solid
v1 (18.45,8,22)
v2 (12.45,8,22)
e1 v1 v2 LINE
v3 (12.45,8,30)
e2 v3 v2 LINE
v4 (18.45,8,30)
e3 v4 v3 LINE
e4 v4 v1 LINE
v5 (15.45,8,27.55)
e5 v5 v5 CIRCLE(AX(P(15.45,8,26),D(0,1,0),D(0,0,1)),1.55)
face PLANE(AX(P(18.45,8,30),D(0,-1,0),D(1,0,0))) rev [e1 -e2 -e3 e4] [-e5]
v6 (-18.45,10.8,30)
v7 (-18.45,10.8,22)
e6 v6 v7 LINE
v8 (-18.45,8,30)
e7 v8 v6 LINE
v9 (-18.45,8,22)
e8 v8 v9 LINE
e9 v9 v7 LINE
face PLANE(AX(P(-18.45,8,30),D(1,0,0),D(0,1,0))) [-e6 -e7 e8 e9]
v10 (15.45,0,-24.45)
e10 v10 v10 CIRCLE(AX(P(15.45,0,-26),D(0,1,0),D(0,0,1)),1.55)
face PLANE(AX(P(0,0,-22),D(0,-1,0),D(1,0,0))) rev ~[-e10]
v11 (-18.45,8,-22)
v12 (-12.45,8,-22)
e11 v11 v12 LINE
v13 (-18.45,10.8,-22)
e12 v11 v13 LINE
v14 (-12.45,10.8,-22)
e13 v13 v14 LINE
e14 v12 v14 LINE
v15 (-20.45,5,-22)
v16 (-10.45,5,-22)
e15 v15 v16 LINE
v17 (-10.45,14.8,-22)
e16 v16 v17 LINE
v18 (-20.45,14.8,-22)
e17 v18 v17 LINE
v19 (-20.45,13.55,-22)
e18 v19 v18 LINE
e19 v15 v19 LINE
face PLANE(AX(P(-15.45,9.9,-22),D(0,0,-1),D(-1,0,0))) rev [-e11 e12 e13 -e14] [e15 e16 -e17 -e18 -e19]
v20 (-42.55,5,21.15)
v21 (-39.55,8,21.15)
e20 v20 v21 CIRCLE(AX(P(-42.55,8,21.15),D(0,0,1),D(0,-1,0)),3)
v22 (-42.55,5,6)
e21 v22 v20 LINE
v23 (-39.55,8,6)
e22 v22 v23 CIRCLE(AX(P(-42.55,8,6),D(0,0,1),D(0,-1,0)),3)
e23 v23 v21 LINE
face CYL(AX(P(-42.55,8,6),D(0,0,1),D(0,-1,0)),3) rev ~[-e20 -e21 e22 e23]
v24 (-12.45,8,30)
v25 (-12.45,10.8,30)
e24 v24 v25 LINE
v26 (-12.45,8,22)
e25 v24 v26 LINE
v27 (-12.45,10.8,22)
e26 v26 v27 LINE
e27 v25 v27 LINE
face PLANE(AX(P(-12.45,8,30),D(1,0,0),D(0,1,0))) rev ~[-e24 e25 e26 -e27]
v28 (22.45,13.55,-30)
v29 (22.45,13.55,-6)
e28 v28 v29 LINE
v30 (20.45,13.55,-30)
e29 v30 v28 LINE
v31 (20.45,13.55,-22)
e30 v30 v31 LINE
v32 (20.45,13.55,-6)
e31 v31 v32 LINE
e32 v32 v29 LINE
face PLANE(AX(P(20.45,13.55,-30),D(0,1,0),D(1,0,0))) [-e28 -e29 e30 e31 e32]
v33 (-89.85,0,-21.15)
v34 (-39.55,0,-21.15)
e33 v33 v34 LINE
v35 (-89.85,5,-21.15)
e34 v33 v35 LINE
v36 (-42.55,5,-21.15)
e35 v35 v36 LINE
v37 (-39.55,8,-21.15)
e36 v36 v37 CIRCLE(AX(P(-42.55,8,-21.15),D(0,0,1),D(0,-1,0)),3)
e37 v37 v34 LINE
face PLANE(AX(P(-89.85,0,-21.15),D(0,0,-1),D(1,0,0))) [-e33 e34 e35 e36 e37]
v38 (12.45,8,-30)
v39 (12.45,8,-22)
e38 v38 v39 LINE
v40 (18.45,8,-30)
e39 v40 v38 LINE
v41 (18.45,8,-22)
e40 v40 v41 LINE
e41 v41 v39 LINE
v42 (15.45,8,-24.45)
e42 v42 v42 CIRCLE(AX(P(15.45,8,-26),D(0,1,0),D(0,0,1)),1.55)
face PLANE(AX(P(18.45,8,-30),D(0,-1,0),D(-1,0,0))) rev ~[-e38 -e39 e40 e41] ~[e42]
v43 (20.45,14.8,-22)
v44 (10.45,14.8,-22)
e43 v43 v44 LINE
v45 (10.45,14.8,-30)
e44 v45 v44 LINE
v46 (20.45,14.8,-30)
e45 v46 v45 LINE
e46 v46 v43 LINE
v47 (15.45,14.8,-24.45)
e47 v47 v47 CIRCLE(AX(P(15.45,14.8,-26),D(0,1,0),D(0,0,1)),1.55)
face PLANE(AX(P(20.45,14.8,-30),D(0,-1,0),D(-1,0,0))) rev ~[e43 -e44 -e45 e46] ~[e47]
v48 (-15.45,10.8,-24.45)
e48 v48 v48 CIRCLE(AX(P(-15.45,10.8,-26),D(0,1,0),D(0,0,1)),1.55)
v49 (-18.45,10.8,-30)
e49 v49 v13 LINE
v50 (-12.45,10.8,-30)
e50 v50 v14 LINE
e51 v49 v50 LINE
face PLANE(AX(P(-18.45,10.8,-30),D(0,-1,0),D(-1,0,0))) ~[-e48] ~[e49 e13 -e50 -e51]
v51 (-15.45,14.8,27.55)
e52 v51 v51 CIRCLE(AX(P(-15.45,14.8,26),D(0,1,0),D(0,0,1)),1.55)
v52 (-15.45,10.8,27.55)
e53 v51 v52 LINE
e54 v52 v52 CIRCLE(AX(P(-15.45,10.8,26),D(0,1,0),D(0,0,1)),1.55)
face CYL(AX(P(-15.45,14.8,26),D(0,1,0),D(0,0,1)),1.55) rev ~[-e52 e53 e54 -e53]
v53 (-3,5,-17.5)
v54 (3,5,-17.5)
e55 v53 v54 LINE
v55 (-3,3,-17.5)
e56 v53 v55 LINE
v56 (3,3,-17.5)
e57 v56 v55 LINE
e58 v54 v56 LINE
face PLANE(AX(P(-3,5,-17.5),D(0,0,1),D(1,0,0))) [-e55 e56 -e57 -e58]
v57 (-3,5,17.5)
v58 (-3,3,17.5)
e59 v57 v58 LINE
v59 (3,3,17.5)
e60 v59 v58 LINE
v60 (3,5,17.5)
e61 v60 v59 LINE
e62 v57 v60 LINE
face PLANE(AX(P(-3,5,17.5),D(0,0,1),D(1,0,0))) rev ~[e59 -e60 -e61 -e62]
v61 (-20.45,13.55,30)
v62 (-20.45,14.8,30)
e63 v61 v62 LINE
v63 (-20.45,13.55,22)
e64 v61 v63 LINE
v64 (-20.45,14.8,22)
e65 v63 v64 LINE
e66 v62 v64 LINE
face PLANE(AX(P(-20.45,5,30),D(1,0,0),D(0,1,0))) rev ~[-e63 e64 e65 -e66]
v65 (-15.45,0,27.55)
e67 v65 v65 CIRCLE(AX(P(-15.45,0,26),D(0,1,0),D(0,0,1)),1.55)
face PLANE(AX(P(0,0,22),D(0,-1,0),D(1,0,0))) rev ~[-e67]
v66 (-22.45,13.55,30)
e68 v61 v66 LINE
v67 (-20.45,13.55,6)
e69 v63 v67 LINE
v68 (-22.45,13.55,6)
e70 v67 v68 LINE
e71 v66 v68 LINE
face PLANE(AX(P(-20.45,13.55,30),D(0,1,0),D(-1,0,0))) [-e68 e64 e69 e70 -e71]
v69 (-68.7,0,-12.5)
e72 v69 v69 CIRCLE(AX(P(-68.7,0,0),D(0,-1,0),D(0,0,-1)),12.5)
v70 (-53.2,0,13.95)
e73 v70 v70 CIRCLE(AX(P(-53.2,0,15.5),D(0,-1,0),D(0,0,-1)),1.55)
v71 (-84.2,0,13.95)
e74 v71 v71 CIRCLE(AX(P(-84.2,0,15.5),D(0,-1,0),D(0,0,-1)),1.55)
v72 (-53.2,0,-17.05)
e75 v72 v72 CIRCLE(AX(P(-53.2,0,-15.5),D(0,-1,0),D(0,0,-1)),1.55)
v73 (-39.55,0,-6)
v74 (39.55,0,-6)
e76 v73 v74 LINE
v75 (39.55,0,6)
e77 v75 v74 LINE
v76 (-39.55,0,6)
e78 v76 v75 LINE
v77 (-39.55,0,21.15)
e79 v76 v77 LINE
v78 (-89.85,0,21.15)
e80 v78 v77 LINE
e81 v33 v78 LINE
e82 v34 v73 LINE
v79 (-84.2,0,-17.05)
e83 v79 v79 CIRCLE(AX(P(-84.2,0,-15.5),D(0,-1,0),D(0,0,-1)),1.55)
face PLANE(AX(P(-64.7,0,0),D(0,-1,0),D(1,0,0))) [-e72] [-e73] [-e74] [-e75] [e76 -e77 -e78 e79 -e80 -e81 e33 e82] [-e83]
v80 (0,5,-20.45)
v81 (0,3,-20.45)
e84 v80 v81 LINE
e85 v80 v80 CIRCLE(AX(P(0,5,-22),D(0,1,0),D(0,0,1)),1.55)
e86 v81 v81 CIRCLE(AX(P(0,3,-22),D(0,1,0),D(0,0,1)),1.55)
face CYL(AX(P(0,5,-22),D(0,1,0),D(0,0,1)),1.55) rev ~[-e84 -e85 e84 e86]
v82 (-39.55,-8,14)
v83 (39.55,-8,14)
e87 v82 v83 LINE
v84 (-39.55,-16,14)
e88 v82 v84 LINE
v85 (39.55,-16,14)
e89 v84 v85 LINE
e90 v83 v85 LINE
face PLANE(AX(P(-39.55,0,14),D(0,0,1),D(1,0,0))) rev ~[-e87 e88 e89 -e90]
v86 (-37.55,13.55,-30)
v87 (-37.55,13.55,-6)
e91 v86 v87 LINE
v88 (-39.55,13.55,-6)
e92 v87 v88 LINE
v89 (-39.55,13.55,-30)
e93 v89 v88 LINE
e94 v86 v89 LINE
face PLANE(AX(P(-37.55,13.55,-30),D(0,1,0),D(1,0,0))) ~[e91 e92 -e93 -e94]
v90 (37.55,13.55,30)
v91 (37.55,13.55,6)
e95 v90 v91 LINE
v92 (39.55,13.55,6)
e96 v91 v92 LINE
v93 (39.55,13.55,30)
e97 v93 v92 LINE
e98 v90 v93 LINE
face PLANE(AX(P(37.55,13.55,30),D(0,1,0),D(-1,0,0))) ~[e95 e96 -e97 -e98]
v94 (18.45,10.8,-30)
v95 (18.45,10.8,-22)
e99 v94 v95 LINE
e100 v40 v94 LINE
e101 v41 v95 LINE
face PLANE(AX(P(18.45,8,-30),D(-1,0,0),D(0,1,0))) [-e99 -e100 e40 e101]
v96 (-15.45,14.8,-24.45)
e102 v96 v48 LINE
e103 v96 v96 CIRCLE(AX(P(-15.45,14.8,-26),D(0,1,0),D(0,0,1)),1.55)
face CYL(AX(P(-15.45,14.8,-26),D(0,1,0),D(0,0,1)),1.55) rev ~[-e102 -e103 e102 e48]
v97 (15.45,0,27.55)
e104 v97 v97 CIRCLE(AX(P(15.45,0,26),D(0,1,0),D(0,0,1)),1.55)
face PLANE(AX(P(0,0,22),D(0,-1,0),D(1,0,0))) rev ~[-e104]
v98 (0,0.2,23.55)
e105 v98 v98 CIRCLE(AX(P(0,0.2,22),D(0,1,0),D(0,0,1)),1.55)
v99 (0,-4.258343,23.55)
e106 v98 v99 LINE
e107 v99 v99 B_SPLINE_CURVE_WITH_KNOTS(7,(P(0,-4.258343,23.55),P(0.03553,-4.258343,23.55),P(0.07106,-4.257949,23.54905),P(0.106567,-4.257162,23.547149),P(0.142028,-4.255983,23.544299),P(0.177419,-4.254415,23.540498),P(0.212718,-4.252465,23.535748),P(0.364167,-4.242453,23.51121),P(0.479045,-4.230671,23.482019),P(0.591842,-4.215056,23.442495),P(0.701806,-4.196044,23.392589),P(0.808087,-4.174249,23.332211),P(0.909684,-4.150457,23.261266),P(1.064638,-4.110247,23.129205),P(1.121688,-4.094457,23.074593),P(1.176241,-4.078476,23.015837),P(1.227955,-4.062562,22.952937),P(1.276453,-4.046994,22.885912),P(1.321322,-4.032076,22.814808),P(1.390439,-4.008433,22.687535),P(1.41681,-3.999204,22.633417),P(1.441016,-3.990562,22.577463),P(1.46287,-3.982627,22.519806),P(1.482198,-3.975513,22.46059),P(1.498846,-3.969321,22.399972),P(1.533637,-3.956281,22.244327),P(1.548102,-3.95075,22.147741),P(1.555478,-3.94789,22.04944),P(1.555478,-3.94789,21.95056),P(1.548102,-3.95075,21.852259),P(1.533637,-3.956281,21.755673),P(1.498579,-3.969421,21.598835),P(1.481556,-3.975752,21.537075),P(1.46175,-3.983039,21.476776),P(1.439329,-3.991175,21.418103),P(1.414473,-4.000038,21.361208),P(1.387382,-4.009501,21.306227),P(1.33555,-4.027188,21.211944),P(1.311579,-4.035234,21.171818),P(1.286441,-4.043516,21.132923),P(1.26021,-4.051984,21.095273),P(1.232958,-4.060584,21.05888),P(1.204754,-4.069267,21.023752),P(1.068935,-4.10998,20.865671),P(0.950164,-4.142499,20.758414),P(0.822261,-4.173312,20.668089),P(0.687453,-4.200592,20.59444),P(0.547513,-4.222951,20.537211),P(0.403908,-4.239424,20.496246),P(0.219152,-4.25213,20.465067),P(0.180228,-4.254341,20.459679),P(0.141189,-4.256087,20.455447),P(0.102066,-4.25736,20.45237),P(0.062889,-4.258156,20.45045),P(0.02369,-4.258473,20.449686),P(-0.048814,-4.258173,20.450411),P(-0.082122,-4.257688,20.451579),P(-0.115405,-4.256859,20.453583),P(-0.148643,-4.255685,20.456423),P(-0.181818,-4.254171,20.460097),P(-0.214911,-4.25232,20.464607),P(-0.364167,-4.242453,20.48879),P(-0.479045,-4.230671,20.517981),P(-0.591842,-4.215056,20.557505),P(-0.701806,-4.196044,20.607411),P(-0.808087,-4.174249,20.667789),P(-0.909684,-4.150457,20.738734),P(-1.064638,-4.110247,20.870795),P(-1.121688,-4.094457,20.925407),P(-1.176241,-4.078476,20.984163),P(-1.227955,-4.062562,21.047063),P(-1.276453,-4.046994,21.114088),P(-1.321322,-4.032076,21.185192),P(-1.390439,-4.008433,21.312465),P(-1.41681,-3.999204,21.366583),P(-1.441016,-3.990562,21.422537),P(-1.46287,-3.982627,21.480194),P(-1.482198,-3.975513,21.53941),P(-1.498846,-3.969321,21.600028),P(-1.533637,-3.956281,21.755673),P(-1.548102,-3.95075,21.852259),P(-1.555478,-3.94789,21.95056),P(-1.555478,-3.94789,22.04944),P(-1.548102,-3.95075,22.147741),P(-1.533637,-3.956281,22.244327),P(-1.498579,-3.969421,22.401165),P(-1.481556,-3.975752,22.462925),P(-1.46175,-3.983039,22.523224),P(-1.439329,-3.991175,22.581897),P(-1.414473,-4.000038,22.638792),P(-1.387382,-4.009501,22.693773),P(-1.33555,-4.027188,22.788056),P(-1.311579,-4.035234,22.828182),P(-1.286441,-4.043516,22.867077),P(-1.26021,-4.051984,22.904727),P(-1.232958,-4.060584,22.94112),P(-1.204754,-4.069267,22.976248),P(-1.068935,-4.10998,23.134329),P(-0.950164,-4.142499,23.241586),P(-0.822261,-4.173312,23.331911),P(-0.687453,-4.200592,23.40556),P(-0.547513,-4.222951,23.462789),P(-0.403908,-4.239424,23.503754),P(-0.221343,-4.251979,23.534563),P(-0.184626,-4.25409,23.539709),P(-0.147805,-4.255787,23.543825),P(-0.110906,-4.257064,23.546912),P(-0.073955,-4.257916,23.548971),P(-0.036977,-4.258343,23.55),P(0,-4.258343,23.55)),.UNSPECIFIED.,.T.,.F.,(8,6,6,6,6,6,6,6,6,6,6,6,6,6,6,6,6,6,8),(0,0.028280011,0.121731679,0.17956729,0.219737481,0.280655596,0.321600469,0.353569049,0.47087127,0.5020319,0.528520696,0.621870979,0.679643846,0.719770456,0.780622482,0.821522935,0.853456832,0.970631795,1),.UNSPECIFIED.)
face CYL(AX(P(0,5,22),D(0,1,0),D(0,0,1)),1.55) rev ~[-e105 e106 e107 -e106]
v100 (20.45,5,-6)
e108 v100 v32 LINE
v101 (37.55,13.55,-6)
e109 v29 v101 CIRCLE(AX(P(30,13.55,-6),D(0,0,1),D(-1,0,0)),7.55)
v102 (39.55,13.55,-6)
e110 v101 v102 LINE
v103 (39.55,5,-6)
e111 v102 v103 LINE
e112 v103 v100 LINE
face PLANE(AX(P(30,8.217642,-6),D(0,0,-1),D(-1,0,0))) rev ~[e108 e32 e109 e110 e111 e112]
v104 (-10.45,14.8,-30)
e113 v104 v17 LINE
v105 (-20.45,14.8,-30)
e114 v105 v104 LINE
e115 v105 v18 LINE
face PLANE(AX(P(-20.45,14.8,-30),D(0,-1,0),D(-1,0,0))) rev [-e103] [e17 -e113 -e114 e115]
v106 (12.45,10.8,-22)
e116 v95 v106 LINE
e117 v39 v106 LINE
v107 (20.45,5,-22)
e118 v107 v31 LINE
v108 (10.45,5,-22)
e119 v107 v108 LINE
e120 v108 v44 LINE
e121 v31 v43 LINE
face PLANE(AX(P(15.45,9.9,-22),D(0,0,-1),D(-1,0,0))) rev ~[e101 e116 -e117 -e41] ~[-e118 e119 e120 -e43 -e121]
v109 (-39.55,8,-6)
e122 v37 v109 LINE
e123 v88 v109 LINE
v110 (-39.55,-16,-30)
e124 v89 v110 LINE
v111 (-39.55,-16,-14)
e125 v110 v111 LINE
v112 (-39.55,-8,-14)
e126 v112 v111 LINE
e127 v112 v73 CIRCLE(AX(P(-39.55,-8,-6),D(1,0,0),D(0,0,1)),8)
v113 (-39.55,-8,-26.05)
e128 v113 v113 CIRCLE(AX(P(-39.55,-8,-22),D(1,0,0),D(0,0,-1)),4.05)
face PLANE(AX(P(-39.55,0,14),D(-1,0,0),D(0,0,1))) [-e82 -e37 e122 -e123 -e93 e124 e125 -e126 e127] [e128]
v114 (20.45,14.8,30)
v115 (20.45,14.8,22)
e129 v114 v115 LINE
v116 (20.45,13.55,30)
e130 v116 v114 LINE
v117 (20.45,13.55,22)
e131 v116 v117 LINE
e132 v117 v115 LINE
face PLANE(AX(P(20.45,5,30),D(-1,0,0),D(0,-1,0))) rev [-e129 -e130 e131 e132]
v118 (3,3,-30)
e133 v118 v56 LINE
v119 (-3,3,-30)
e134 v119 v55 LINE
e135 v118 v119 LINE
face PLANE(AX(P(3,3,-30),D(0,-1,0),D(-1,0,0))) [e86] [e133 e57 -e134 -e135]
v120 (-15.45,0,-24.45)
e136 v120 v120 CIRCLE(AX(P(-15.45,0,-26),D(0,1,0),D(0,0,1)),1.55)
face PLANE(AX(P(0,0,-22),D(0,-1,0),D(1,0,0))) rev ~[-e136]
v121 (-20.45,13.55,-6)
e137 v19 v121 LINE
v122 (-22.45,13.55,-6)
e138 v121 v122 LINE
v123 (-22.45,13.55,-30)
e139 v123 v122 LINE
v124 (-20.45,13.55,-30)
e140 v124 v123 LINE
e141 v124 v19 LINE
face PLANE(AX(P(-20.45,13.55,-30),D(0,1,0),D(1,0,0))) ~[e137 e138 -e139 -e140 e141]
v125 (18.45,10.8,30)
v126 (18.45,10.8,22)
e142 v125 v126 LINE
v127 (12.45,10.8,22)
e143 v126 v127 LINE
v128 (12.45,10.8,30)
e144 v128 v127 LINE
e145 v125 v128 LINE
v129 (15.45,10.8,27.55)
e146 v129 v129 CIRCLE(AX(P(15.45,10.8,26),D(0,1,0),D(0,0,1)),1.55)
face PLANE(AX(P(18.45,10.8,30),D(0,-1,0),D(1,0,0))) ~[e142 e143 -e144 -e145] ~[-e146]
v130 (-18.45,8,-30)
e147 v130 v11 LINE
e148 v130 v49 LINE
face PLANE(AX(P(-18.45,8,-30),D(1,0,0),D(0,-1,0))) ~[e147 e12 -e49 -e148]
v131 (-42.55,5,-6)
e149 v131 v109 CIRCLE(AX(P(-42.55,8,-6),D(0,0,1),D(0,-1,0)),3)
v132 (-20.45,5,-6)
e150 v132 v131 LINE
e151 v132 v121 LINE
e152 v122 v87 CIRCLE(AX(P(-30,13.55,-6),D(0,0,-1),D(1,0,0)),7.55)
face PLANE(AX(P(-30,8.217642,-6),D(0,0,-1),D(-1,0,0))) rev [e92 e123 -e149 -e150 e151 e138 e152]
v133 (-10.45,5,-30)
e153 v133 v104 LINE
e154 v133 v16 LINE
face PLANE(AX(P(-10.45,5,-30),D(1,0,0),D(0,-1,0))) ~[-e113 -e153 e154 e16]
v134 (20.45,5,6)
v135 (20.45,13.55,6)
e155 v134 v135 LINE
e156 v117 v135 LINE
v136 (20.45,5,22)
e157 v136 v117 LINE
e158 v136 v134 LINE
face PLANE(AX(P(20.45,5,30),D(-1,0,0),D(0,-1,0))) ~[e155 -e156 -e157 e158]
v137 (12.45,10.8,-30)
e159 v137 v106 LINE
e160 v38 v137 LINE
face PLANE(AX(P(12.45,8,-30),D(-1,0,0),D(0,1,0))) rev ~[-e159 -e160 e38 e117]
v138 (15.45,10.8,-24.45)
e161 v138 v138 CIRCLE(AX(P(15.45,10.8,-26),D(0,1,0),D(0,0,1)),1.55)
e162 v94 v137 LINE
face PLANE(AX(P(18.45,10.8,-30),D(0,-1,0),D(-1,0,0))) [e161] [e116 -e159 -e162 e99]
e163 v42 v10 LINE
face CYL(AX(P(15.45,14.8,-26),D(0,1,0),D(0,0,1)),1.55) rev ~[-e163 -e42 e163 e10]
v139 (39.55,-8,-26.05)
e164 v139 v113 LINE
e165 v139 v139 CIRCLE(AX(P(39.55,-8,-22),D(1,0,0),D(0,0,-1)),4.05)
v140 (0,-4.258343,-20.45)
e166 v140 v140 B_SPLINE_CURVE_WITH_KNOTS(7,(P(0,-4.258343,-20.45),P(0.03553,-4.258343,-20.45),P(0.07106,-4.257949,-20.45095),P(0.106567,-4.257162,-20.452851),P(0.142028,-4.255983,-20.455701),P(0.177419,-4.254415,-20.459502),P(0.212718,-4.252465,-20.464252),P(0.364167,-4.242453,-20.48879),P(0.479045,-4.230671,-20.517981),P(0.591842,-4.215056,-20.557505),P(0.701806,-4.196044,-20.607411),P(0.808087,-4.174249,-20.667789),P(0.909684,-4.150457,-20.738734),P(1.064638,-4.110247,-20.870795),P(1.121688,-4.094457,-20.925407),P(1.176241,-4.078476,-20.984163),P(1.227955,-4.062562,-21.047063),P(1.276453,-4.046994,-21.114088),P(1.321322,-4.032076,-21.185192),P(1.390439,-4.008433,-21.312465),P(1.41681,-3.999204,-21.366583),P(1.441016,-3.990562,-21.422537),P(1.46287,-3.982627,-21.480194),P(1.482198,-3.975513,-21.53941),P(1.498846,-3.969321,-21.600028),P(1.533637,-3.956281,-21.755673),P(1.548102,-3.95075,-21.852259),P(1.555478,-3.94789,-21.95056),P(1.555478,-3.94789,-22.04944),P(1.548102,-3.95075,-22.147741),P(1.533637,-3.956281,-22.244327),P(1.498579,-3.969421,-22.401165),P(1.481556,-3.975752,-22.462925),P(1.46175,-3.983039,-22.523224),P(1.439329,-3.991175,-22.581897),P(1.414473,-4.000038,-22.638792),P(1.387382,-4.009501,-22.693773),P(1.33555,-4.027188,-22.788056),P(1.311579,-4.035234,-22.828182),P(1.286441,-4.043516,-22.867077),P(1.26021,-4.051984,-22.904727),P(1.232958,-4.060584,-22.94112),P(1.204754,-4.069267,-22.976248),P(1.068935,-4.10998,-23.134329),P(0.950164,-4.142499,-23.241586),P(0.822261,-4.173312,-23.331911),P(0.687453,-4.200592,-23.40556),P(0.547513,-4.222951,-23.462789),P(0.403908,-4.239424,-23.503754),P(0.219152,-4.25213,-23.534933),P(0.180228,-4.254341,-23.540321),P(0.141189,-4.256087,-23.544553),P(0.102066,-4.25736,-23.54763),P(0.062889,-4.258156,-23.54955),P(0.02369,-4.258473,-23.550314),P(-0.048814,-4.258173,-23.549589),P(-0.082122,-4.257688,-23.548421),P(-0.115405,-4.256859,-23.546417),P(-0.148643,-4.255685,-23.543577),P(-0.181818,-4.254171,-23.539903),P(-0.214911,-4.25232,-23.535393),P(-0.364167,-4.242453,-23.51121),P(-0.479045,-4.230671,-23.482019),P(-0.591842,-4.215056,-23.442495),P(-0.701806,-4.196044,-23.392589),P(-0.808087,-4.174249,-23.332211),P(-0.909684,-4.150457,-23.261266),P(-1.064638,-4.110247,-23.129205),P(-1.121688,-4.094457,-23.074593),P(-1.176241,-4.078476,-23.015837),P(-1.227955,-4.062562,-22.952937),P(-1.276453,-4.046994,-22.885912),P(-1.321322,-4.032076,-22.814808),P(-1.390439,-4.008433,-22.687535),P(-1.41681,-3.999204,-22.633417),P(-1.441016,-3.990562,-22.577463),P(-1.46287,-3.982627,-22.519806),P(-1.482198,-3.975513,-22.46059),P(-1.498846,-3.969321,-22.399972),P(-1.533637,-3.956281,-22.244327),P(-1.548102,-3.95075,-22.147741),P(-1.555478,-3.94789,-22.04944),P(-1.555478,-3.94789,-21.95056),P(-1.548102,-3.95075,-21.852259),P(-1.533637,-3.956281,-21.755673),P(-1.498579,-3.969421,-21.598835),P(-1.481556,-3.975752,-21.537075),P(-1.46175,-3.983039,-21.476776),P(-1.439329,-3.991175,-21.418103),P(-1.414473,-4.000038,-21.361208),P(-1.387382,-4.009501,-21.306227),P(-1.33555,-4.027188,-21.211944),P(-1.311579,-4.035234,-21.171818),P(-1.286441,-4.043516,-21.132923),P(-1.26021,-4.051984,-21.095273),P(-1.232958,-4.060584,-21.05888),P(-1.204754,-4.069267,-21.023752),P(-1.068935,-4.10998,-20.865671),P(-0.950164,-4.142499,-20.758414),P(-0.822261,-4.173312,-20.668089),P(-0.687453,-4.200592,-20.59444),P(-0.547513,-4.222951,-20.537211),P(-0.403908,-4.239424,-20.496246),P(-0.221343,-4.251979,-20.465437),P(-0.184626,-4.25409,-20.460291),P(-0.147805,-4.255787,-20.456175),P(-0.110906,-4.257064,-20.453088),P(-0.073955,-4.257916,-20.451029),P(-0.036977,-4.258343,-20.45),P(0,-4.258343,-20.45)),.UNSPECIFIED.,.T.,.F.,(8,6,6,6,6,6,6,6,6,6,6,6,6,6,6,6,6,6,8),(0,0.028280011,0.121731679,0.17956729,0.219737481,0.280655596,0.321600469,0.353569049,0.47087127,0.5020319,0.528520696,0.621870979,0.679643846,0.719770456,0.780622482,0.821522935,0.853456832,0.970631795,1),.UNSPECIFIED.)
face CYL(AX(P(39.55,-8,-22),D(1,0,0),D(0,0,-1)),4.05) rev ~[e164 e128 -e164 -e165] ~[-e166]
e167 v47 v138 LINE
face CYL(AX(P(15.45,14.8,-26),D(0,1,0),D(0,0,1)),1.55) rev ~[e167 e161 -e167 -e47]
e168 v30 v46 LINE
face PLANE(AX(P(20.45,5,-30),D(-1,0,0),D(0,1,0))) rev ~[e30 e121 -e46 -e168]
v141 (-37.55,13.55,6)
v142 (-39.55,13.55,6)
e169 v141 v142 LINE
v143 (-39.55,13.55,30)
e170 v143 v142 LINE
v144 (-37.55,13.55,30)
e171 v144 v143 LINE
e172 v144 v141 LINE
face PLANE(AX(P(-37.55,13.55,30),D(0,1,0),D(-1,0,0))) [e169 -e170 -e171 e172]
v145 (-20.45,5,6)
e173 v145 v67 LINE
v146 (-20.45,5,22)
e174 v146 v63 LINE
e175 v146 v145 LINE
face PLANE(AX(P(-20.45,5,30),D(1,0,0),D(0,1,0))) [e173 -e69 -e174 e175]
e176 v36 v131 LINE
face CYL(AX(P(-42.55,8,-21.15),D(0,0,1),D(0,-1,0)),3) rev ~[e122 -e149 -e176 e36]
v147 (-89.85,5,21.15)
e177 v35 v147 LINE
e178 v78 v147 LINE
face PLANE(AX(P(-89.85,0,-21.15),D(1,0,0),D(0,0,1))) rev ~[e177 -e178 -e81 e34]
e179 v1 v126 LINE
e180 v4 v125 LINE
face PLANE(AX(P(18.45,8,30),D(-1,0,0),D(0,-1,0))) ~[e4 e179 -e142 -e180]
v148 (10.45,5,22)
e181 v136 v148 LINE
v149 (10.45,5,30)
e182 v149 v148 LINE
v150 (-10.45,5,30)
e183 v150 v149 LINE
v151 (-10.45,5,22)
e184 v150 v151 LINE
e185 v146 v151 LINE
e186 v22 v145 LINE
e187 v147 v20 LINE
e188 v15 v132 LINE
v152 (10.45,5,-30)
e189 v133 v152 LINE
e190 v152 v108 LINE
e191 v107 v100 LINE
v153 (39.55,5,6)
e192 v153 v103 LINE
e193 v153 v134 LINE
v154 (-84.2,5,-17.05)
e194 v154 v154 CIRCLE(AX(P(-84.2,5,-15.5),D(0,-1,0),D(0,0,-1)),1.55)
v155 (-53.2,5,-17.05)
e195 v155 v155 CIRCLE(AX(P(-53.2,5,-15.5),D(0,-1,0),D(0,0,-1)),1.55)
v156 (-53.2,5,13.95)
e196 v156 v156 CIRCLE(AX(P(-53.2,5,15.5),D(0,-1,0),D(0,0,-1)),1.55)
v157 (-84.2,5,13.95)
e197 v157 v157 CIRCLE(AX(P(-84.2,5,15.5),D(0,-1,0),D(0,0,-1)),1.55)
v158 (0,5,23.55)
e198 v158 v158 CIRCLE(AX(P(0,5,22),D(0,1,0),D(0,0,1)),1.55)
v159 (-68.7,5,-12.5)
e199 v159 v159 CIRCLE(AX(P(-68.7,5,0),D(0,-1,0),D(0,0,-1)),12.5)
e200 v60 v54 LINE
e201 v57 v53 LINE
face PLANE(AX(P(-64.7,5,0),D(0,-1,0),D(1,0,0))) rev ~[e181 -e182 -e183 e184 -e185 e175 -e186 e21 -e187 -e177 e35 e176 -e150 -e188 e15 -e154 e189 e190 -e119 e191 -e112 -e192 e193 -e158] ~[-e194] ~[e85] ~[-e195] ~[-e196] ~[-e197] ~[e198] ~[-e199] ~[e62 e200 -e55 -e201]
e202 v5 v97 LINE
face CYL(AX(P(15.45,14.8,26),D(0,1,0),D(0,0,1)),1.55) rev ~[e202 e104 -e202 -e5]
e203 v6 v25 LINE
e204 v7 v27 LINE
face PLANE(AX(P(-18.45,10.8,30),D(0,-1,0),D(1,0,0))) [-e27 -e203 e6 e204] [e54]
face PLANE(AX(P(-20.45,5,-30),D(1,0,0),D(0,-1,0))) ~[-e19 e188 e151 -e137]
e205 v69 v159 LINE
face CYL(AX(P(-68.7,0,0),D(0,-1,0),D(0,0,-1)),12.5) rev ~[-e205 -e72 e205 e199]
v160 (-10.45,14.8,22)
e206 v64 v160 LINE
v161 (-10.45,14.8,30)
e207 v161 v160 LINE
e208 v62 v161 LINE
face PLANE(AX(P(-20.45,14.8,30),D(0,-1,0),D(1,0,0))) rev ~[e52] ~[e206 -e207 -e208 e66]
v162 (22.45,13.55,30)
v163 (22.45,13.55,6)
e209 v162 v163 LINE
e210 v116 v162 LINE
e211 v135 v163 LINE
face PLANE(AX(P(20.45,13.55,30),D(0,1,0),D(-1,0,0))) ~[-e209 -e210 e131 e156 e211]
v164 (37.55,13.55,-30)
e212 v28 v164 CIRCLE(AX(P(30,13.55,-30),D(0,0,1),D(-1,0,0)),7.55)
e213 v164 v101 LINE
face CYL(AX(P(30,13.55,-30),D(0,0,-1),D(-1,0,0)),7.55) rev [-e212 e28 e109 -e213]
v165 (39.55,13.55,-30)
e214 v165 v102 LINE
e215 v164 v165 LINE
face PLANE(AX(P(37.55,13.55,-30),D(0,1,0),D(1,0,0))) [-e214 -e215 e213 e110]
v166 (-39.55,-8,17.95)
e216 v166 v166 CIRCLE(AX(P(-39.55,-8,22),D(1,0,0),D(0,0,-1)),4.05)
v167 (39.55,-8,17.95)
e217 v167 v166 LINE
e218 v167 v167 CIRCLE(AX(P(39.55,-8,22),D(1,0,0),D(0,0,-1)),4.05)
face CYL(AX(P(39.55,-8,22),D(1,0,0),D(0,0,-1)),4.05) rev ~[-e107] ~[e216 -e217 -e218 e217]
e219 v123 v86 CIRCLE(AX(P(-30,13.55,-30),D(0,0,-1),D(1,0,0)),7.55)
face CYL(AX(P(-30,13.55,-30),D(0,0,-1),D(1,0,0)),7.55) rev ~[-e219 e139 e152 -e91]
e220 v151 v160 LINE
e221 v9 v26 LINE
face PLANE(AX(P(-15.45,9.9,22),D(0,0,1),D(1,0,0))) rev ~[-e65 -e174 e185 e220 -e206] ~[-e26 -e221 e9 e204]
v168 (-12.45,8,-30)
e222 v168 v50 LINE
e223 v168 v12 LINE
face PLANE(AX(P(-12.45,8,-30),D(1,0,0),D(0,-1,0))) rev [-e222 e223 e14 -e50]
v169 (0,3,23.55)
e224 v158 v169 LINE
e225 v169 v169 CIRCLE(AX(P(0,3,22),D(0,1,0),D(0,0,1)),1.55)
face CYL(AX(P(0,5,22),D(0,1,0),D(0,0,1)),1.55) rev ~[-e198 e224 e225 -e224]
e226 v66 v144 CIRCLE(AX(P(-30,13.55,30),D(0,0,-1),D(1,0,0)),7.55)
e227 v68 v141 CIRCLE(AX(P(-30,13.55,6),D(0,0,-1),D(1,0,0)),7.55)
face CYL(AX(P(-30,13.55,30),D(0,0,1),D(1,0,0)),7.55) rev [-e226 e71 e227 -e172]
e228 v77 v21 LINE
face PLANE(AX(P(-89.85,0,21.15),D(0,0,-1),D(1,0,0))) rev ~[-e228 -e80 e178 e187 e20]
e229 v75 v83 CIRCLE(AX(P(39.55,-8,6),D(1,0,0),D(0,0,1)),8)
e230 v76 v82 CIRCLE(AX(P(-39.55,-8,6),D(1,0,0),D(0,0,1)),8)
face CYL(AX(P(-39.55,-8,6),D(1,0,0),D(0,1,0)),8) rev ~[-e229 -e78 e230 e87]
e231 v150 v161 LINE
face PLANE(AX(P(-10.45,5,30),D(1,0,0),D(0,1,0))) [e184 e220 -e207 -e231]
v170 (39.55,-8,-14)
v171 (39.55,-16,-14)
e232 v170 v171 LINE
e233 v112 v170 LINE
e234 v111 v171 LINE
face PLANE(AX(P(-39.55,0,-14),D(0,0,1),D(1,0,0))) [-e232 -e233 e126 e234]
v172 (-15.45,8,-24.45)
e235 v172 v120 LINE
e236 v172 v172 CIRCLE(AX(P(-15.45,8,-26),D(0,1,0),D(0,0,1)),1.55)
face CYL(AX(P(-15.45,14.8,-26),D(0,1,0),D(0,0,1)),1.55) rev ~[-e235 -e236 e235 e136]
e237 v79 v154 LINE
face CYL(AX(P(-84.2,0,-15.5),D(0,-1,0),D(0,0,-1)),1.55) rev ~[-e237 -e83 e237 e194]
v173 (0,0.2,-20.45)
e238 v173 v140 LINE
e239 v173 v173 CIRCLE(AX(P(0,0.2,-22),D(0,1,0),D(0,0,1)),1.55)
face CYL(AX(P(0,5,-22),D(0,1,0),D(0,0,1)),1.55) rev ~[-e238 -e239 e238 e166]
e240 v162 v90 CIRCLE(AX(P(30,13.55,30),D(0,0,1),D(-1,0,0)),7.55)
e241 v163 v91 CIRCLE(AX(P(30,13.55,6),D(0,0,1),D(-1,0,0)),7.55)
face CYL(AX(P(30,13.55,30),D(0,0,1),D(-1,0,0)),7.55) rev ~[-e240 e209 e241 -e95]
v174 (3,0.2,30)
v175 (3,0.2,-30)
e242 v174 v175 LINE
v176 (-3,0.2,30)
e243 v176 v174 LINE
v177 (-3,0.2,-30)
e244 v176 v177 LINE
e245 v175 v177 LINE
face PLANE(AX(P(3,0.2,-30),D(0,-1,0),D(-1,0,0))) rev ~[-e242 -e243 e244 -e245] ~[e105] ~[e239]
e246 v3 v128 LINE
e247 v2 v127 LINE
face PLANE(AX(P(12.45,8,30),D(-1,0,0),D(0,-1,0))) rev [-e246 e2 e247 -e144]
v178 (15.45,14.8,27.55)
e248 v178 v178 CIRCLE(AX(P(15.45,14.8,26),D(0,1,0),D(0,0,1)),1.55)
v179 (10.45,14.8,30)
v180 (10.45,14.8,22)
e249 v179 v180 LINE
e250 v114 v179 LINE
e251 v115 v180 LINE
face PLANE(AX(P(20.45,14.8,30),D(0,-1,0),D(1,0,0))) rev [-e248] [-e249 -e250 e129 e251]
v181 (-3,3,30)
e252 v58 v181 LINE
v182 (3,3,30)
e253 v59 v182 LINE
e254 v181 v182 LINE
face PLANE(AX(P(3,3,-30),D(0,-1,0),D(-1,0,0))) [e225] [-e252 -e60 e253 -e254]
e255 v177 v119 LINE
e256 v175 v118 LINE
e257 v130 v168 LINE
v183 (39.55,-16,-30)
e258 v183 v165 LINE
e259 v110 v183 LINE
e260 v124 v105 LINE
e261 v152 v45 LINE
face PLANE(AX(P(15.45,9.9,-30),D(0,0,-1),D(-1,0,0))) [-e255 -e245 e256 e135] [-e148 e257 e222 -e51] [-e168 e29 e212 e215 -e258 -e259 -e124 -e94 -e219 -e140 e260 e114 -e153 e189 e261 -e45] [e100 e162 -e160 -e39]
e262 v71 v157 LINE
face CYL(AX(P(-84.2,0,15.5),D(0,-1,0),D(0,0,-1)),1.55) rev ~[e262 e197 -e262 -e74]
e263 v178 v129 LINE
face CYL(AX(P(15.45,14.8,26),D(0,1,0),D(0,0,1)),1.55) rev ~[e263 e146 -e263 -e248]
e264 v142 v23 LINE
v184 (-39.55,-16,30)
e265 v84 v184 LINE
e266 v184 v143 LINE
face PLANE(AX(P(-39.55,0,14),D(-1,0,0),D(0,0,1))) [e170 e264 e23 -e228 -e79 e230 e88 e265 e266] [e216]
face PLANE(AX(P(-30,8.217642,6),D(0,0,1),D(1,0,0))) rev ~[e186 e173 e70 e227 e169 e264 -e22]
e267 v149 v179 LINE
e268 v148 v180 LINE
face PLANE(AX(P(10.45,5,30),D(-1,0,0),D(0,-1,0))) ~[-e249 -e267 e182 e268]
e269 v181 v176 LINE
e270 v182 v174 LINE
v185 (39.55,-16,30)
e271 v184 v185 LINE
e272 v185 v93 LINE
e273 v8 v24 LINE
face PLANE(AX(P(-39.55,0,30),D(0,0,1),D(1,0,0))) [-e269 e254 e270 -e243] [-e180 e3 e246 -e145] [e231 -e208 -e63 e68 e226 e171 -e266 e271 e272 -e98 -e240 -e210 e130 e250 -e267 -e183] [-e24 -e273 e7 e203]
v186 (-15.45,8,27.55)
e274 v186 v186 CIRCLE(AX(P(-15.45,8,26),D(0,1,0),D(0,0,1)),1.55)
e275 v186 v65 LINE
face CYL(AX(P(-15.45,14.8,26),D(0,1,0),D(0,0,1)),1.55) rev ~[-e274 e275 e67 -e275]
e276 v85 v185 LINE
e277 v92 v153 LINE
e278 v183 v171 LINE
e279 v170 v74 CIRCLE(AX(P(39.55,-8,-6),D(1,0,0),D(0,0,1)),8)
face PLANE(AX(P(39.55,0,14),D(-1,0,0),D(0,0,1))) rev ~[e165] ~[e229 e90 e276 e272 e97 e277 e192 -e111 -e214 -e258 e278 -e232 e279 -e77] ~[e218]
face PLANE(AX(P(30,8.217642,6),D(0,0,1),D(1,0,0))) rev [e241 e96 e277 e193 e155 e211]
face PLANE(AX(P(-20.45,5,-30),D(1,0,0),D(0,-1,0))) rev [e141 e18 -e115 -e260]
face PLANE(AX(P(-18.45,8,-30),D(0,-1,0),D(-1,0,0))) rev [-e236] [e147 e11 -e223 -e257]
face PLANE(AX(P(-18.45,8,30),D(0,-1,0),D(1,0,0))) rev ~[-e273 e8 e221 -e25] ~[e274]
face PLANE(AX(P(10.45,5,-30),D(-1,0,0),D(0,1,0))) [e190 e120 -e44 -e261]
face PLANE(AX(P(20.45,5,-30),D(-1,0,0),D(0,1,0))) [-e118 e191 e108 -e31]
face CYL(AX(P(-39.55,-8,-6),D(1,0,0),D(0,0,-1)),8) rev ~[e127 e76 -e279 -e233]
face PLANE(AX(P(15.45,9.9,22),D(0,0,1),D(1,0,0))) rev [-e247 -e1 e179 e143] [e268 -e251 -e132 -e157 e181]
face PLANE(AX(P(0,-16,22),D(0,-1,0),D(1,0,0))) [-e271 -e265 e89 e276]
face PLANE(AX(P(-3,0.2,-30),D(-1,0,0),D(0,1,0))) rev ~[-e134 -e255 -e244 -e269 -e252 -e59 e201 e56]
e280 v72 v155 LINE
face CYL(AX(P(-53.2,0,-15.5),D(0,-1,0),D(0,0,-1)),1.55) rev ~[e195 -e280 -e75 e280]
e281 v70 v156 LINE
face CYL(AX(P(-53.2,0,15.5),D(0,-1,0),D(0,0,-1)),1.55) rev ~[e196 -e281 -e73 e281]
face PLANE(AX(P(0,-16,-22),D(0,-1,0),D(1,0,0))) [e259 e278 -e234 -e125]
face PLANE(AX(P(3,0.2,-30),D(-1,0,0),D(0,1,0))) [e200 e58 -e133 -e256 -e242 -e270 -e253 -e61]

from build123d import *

# Parameters (mm, degrees)
SKETCH1_W                 = 79.1
SKETCH1_H                 = 60
BOSS_EXTRUDE1_DEPTH       = 5
BOSS_EXTRUDE2_DEPTH       = 24
MIRROR2_COPY_1_DEPTH      = 24
SKETCH9_W                 = 10
SKETCH9_H                 = 9.8
SKETCH9_W_2               = 6
SKETCH9_H_2               = 2.8
BOSS_EXTRUDE4_DEPTH       = 8
MIRROR9_COPY_1_SKETCH_W   = 10
MIRROR9_COPY_1_SKETCH_H   = 9.8
MIRROR9_COPY_1_SKETCH_W_2 = 6
MIRROR9_COPY_1_SKETCH_H_2 = 2.8
MIRROR9_COPY_1_DEPTH      = 8
SKETCH10_R                = 1.55
CUT_EXTRUDE6_DEPTH        = 15.8
SKETCH11_W                = 79.1
SKETCH11_H                = 16
BOSS_EXTRUDE5_DEPTH       = 16
SKETCH12_R                = 4.05
CUT_EXTRUDE7_DEPTH        = 80.1
SKETCH13_W                = 6
SKETCH13_H                = 2.8
CUT_EXTRUDE8_DEPTH        = 61
SKETCH14_R                = 1.55
CUT_EXTRUDE9_DEPTH        = 10
SKETCH14_3_W              = 6
SKETCH14_3_H              = 35
CUT_EXTRUDE10_DEPTH       = 4.8
FILLET1_R                 = 8
SKETCH15_W                = 50.3
SKETCH15_H                = 42.3
SKETCH15_R                = 1.55
SKETCH15_R_2              = 12.5
BOSS_EXTRUDE6_DEPTH       = 5
FILLET3_R                 = 3


with BuildPart() as part:
    # Sketch1 → Boss-Extrude1 (new body)
    with BuildSketch(Plane(origin=(0, 0, 0), x_dir=(1, 0, 0), z_dir=(0, 1, 0))):
        Rectangle(SKETCH1_W, SKETCH1_H)
    extrude(amount=BOSS_EXTRUDE1_DEPTH)

    # Sketch2 → Boss-Extrude2 (add)
    with BuildSketch(Plane.XY.offset(30)):
        with BuildLine():
            Line((-39.55, 13.55), (-39.55, 5))
            Line((-39.55, 5), (-20.45, 5))
            Line((-20.45, 5), (-20.45, 13.55))
            Line((-20.45, 13.55), (-22.45, 13.55))
            ThreePointArc((-22.45, 13.55), (-30, 6), (-37.55, 13.55))
            Line((-37.55, 13.55), (-39.55, 13.55))
        make_face()
    boss_extrude2 = extrude(amount=-BOSS_EXTRUDE2_DEPTH)

    # Mirror1: Boss-Extrude2 across plane
    add(boss_extrude2.mirror(Plane.XY))

    # Mirror2: Boss-Extrude2 across plane
    add(boss_extrude2.mirror(Plane(origin=(0, 0, 0), x_dir=(0, 0, 1), z_dir=(1, 0, 0))))

    # Mirror2 copy 1 sketch → Mirror2 copy 1 (add)
    with BuildSketch(Plane(origin=(0, 0, -30), x_dir=(-1, 0, 0), z_dir=(0, 0, -1))):
        with BuildLine():
            Line((-39.55, 13.55), (-39.55, 5))
            Line((-39.55, 5), (-20.45, 5))
            Line((-20.45, 5), (-20.45, 13.55))
            Line((-20.45, 13.55), (-22.45, 13.55))
            ThreePointArc((-22.45, 13.55), (-30, 6), (-37.55, 13.55))
            Line((-37.55, 13.55), (-39.55, 13.55))
        make_face()
    extrude(amount=-MIRROR2_COPY_1_DEPTH)

    # Sketch9 → Boss-Extrude4 (add)
    with BuildSketch(Plane.XY.offset(30)):
        with Locations((-15.45, 9.9)):
            Rectangle(SKETCH9_W, SKETCH9_H)
        with Locations((-15.45, 9.4)):
            Rectangle(SKETCH9_W_2, SKETCH9_H_2, mode=Mode.SUBTRACT)
    boss_extrude4 = extrude(amount=-BOSS_EXTRUDE4_DEPTH)

    # Mirror8: Boss-Extrude4 across plane
    add(boss_extrude4.mirror(Plane(origin=(0, 0, 0), x_dir=(0, 0, 1), z_dir=(1, 0, 0))))

    # Mirror9: Boss-Extrude4 across plane
    add(boss_extrude4.mirror(Plane.XY))

    # Mirror9 copy 1 sketch → Mirror9 copy 1 (add)
    with BuildSketch(Plane(origin=(0, 0, -30), x_dir=(-1, 0, 0), z_dir=(0, 0, -1))):
        with Locations((-15.45, 9.9)):
            Rectangle(MIRROR9_COPY_1_SKETCH_W, MIRROR9_COPY_1_SKETCH_H)
        with Locations((-15.45, 9.4)):
            Rectangle(MIRROR9_COPY_1_SKETCH_W_2, MIRROR9_COPY_1_SKETCH_H_2, mode=Mode.SUBTRACT)
    extrude(amount=-MIRROR9_COPY_1_DEPTH)

    # Sketch10 → Cut-Extrude6 (cut, through all)
    with BuildSketch(Plane(origin=(0, 14.8, 0), x_dir=(1, 0, 0), z_dir=(0, 1, 0))):
        with Locations(Location((-15.45, 26, 0), (0, 0, 270))):  # turned: the seam where the file's is
            Circle(SKETCH10_R)
        with Locations(Location((15.45, 26, 0), (0, 0, 270))):  # turned: the seam where the file's is
            Circle(SKETCH10_R)
        with Locations(Location((15.45, -26, 0), (0, 0, 270))):  # turned: the seam where the file's is
            Circle(SKETCH10_R)
        with Locations(Location((-15.45, -26, 0), (0, 0, 270))):  # turned: the seam where the file's is
            Circle(SKETCH10_R)
    extrude(amount=-CUT_EXTRUDE6_DEPTH, mode=Mode.SUBTRACT)

    # Sketch11 → Boss-Extrude5 (add)
    with BuildSketch(Plane.XZ):
        with Locations((0, 22)):
            Rectangle(SKETCH11_W, SKETCH11_H)
        with Locations((0, -22)):
            Rectangle(SKETCH11_W, SKETCH11_H)
    extrude(amount=BOSS_EXTRUDE5_DEPTH)

    # Sketch12 → Cut-Extrude7 (cut, through all)
    with BuildSketch(Plane(origin=(39.55, 0, 0), x_dir=(0, 0, -1), z_dir=(1, 0, 0))):
        with Locations((-22, -8)):
            Circle(SKETCH12_R)
        with Locations((22, -8)):
            Circle(SKETCH12_R)
    extrude(amount=-CUT_EXTRUDE7_DEPTH, mode=Mode.SUBTRACT)

    # Sketch13 → Cut-Extrude8 (cut, through all)
    with BuildSketch(Plane(origin=(0, 0, -30), x_dir=(-1, 0, 0), z_dir=(0, 0, -1))):
        with Locations((0, 1.6)):
            Rectangle(SKETCH13_W, SKETCH13_H)
    extrude(amount=-CUT_EXTRUDE8_DEPTH, mode=Mode.SUBTRACT)

    # Sketch14 → Cut-Extrude9 (cut)
    with BuildSketch(Plane(origin=(0, 5, 0), x_dir=(1, 0, 0), z_dir=(0, 1, 0))):
        with Locations(Location((0, -22, 0), (0, 0, 270))):  # turned: the seam where the file's is
            Circle(SKETCH14_R)
        with Locations(Location((0, 22, 0), (0, 0, 270))):  # turned: the seam where the file's is
            Circle(SKETCH14_R)
    extrude(amount=-CUT_EXTRUDE9_DEPTH, mode=Mode.SUBTRACT)

    # Sketch14_3 → Cut-Extrude10 (cut)
    with BuildSketch(Plane(origin=(0, 5, 0), x_dir=(1, 0, 0), z_dir=(0, 1, 0))):
        Rectangle(SKETCH14_3_W, SKETCH14_3_H)
    extrude(amount=-CUT_EXTRUDE10_DEPTH, mode=Mode.SUBTRACT)

    # Fillet1
    fillet1_edges = [part.edges().sort_by_distance(p)[0] for p in [
        (0, 0, -14),
        (0, 0, 14),
    ]]
    fillet(fillet1_edges, radius=FILLET1_R)

    # Sketch15 → Boss-Extrude6 (add)
    with BuildSketch(Plane.XZ):
        with Locations((-64.7, 0)):
            Rectangle(SKETCH15_W, SKETCH15_H)
        with Locations(Location((-84.2, 15.5, 0), (0, 0, 270))):  # turned: the seam where the file's is
            Circle(SKETCH15_R, mode=Mode.SUBTRACT)
        with Locations(Location((-84.2, -15.5, 0), (0, 0, 270))):  # turned: the seam where the file's is
            Circle(SKETCH15_R, mode=Mode.SUBTRACT)
        with Locations(Location((-53.2, -15.5, 0), (0, 0, 270))):  # turned: the seam where the file's is
            Circle(SKETCH15_R, mode=Mode.SUBTRACT)
        with Locations(Location((-53.2, 15.5, 0), (0, 0, 270))):  # turned: the seam where the file's is
            Circle(SKETCH15_R, mode=Mode.SUBTRACT)
        with Locations(Location((-68.7, 0, 0), (0, 0, 270))):  # turned: the seam where the file's is
            Circle(SKETCH15_R_2, mode=Mode.SUBTRACT)
    extrude(amount=-BOSS_EXTRUDE6_DEPTH)

    # Fillet3
    fillet3_edges = [part.edges().sort_by_distance(p)[0] for p in [
        (-39.55, 5, -13.575),
        (-39.55, 5, 13.575),
    ]]
    fillet(fillet3_edges, radius=FILLET3_R)


solid = part.part
